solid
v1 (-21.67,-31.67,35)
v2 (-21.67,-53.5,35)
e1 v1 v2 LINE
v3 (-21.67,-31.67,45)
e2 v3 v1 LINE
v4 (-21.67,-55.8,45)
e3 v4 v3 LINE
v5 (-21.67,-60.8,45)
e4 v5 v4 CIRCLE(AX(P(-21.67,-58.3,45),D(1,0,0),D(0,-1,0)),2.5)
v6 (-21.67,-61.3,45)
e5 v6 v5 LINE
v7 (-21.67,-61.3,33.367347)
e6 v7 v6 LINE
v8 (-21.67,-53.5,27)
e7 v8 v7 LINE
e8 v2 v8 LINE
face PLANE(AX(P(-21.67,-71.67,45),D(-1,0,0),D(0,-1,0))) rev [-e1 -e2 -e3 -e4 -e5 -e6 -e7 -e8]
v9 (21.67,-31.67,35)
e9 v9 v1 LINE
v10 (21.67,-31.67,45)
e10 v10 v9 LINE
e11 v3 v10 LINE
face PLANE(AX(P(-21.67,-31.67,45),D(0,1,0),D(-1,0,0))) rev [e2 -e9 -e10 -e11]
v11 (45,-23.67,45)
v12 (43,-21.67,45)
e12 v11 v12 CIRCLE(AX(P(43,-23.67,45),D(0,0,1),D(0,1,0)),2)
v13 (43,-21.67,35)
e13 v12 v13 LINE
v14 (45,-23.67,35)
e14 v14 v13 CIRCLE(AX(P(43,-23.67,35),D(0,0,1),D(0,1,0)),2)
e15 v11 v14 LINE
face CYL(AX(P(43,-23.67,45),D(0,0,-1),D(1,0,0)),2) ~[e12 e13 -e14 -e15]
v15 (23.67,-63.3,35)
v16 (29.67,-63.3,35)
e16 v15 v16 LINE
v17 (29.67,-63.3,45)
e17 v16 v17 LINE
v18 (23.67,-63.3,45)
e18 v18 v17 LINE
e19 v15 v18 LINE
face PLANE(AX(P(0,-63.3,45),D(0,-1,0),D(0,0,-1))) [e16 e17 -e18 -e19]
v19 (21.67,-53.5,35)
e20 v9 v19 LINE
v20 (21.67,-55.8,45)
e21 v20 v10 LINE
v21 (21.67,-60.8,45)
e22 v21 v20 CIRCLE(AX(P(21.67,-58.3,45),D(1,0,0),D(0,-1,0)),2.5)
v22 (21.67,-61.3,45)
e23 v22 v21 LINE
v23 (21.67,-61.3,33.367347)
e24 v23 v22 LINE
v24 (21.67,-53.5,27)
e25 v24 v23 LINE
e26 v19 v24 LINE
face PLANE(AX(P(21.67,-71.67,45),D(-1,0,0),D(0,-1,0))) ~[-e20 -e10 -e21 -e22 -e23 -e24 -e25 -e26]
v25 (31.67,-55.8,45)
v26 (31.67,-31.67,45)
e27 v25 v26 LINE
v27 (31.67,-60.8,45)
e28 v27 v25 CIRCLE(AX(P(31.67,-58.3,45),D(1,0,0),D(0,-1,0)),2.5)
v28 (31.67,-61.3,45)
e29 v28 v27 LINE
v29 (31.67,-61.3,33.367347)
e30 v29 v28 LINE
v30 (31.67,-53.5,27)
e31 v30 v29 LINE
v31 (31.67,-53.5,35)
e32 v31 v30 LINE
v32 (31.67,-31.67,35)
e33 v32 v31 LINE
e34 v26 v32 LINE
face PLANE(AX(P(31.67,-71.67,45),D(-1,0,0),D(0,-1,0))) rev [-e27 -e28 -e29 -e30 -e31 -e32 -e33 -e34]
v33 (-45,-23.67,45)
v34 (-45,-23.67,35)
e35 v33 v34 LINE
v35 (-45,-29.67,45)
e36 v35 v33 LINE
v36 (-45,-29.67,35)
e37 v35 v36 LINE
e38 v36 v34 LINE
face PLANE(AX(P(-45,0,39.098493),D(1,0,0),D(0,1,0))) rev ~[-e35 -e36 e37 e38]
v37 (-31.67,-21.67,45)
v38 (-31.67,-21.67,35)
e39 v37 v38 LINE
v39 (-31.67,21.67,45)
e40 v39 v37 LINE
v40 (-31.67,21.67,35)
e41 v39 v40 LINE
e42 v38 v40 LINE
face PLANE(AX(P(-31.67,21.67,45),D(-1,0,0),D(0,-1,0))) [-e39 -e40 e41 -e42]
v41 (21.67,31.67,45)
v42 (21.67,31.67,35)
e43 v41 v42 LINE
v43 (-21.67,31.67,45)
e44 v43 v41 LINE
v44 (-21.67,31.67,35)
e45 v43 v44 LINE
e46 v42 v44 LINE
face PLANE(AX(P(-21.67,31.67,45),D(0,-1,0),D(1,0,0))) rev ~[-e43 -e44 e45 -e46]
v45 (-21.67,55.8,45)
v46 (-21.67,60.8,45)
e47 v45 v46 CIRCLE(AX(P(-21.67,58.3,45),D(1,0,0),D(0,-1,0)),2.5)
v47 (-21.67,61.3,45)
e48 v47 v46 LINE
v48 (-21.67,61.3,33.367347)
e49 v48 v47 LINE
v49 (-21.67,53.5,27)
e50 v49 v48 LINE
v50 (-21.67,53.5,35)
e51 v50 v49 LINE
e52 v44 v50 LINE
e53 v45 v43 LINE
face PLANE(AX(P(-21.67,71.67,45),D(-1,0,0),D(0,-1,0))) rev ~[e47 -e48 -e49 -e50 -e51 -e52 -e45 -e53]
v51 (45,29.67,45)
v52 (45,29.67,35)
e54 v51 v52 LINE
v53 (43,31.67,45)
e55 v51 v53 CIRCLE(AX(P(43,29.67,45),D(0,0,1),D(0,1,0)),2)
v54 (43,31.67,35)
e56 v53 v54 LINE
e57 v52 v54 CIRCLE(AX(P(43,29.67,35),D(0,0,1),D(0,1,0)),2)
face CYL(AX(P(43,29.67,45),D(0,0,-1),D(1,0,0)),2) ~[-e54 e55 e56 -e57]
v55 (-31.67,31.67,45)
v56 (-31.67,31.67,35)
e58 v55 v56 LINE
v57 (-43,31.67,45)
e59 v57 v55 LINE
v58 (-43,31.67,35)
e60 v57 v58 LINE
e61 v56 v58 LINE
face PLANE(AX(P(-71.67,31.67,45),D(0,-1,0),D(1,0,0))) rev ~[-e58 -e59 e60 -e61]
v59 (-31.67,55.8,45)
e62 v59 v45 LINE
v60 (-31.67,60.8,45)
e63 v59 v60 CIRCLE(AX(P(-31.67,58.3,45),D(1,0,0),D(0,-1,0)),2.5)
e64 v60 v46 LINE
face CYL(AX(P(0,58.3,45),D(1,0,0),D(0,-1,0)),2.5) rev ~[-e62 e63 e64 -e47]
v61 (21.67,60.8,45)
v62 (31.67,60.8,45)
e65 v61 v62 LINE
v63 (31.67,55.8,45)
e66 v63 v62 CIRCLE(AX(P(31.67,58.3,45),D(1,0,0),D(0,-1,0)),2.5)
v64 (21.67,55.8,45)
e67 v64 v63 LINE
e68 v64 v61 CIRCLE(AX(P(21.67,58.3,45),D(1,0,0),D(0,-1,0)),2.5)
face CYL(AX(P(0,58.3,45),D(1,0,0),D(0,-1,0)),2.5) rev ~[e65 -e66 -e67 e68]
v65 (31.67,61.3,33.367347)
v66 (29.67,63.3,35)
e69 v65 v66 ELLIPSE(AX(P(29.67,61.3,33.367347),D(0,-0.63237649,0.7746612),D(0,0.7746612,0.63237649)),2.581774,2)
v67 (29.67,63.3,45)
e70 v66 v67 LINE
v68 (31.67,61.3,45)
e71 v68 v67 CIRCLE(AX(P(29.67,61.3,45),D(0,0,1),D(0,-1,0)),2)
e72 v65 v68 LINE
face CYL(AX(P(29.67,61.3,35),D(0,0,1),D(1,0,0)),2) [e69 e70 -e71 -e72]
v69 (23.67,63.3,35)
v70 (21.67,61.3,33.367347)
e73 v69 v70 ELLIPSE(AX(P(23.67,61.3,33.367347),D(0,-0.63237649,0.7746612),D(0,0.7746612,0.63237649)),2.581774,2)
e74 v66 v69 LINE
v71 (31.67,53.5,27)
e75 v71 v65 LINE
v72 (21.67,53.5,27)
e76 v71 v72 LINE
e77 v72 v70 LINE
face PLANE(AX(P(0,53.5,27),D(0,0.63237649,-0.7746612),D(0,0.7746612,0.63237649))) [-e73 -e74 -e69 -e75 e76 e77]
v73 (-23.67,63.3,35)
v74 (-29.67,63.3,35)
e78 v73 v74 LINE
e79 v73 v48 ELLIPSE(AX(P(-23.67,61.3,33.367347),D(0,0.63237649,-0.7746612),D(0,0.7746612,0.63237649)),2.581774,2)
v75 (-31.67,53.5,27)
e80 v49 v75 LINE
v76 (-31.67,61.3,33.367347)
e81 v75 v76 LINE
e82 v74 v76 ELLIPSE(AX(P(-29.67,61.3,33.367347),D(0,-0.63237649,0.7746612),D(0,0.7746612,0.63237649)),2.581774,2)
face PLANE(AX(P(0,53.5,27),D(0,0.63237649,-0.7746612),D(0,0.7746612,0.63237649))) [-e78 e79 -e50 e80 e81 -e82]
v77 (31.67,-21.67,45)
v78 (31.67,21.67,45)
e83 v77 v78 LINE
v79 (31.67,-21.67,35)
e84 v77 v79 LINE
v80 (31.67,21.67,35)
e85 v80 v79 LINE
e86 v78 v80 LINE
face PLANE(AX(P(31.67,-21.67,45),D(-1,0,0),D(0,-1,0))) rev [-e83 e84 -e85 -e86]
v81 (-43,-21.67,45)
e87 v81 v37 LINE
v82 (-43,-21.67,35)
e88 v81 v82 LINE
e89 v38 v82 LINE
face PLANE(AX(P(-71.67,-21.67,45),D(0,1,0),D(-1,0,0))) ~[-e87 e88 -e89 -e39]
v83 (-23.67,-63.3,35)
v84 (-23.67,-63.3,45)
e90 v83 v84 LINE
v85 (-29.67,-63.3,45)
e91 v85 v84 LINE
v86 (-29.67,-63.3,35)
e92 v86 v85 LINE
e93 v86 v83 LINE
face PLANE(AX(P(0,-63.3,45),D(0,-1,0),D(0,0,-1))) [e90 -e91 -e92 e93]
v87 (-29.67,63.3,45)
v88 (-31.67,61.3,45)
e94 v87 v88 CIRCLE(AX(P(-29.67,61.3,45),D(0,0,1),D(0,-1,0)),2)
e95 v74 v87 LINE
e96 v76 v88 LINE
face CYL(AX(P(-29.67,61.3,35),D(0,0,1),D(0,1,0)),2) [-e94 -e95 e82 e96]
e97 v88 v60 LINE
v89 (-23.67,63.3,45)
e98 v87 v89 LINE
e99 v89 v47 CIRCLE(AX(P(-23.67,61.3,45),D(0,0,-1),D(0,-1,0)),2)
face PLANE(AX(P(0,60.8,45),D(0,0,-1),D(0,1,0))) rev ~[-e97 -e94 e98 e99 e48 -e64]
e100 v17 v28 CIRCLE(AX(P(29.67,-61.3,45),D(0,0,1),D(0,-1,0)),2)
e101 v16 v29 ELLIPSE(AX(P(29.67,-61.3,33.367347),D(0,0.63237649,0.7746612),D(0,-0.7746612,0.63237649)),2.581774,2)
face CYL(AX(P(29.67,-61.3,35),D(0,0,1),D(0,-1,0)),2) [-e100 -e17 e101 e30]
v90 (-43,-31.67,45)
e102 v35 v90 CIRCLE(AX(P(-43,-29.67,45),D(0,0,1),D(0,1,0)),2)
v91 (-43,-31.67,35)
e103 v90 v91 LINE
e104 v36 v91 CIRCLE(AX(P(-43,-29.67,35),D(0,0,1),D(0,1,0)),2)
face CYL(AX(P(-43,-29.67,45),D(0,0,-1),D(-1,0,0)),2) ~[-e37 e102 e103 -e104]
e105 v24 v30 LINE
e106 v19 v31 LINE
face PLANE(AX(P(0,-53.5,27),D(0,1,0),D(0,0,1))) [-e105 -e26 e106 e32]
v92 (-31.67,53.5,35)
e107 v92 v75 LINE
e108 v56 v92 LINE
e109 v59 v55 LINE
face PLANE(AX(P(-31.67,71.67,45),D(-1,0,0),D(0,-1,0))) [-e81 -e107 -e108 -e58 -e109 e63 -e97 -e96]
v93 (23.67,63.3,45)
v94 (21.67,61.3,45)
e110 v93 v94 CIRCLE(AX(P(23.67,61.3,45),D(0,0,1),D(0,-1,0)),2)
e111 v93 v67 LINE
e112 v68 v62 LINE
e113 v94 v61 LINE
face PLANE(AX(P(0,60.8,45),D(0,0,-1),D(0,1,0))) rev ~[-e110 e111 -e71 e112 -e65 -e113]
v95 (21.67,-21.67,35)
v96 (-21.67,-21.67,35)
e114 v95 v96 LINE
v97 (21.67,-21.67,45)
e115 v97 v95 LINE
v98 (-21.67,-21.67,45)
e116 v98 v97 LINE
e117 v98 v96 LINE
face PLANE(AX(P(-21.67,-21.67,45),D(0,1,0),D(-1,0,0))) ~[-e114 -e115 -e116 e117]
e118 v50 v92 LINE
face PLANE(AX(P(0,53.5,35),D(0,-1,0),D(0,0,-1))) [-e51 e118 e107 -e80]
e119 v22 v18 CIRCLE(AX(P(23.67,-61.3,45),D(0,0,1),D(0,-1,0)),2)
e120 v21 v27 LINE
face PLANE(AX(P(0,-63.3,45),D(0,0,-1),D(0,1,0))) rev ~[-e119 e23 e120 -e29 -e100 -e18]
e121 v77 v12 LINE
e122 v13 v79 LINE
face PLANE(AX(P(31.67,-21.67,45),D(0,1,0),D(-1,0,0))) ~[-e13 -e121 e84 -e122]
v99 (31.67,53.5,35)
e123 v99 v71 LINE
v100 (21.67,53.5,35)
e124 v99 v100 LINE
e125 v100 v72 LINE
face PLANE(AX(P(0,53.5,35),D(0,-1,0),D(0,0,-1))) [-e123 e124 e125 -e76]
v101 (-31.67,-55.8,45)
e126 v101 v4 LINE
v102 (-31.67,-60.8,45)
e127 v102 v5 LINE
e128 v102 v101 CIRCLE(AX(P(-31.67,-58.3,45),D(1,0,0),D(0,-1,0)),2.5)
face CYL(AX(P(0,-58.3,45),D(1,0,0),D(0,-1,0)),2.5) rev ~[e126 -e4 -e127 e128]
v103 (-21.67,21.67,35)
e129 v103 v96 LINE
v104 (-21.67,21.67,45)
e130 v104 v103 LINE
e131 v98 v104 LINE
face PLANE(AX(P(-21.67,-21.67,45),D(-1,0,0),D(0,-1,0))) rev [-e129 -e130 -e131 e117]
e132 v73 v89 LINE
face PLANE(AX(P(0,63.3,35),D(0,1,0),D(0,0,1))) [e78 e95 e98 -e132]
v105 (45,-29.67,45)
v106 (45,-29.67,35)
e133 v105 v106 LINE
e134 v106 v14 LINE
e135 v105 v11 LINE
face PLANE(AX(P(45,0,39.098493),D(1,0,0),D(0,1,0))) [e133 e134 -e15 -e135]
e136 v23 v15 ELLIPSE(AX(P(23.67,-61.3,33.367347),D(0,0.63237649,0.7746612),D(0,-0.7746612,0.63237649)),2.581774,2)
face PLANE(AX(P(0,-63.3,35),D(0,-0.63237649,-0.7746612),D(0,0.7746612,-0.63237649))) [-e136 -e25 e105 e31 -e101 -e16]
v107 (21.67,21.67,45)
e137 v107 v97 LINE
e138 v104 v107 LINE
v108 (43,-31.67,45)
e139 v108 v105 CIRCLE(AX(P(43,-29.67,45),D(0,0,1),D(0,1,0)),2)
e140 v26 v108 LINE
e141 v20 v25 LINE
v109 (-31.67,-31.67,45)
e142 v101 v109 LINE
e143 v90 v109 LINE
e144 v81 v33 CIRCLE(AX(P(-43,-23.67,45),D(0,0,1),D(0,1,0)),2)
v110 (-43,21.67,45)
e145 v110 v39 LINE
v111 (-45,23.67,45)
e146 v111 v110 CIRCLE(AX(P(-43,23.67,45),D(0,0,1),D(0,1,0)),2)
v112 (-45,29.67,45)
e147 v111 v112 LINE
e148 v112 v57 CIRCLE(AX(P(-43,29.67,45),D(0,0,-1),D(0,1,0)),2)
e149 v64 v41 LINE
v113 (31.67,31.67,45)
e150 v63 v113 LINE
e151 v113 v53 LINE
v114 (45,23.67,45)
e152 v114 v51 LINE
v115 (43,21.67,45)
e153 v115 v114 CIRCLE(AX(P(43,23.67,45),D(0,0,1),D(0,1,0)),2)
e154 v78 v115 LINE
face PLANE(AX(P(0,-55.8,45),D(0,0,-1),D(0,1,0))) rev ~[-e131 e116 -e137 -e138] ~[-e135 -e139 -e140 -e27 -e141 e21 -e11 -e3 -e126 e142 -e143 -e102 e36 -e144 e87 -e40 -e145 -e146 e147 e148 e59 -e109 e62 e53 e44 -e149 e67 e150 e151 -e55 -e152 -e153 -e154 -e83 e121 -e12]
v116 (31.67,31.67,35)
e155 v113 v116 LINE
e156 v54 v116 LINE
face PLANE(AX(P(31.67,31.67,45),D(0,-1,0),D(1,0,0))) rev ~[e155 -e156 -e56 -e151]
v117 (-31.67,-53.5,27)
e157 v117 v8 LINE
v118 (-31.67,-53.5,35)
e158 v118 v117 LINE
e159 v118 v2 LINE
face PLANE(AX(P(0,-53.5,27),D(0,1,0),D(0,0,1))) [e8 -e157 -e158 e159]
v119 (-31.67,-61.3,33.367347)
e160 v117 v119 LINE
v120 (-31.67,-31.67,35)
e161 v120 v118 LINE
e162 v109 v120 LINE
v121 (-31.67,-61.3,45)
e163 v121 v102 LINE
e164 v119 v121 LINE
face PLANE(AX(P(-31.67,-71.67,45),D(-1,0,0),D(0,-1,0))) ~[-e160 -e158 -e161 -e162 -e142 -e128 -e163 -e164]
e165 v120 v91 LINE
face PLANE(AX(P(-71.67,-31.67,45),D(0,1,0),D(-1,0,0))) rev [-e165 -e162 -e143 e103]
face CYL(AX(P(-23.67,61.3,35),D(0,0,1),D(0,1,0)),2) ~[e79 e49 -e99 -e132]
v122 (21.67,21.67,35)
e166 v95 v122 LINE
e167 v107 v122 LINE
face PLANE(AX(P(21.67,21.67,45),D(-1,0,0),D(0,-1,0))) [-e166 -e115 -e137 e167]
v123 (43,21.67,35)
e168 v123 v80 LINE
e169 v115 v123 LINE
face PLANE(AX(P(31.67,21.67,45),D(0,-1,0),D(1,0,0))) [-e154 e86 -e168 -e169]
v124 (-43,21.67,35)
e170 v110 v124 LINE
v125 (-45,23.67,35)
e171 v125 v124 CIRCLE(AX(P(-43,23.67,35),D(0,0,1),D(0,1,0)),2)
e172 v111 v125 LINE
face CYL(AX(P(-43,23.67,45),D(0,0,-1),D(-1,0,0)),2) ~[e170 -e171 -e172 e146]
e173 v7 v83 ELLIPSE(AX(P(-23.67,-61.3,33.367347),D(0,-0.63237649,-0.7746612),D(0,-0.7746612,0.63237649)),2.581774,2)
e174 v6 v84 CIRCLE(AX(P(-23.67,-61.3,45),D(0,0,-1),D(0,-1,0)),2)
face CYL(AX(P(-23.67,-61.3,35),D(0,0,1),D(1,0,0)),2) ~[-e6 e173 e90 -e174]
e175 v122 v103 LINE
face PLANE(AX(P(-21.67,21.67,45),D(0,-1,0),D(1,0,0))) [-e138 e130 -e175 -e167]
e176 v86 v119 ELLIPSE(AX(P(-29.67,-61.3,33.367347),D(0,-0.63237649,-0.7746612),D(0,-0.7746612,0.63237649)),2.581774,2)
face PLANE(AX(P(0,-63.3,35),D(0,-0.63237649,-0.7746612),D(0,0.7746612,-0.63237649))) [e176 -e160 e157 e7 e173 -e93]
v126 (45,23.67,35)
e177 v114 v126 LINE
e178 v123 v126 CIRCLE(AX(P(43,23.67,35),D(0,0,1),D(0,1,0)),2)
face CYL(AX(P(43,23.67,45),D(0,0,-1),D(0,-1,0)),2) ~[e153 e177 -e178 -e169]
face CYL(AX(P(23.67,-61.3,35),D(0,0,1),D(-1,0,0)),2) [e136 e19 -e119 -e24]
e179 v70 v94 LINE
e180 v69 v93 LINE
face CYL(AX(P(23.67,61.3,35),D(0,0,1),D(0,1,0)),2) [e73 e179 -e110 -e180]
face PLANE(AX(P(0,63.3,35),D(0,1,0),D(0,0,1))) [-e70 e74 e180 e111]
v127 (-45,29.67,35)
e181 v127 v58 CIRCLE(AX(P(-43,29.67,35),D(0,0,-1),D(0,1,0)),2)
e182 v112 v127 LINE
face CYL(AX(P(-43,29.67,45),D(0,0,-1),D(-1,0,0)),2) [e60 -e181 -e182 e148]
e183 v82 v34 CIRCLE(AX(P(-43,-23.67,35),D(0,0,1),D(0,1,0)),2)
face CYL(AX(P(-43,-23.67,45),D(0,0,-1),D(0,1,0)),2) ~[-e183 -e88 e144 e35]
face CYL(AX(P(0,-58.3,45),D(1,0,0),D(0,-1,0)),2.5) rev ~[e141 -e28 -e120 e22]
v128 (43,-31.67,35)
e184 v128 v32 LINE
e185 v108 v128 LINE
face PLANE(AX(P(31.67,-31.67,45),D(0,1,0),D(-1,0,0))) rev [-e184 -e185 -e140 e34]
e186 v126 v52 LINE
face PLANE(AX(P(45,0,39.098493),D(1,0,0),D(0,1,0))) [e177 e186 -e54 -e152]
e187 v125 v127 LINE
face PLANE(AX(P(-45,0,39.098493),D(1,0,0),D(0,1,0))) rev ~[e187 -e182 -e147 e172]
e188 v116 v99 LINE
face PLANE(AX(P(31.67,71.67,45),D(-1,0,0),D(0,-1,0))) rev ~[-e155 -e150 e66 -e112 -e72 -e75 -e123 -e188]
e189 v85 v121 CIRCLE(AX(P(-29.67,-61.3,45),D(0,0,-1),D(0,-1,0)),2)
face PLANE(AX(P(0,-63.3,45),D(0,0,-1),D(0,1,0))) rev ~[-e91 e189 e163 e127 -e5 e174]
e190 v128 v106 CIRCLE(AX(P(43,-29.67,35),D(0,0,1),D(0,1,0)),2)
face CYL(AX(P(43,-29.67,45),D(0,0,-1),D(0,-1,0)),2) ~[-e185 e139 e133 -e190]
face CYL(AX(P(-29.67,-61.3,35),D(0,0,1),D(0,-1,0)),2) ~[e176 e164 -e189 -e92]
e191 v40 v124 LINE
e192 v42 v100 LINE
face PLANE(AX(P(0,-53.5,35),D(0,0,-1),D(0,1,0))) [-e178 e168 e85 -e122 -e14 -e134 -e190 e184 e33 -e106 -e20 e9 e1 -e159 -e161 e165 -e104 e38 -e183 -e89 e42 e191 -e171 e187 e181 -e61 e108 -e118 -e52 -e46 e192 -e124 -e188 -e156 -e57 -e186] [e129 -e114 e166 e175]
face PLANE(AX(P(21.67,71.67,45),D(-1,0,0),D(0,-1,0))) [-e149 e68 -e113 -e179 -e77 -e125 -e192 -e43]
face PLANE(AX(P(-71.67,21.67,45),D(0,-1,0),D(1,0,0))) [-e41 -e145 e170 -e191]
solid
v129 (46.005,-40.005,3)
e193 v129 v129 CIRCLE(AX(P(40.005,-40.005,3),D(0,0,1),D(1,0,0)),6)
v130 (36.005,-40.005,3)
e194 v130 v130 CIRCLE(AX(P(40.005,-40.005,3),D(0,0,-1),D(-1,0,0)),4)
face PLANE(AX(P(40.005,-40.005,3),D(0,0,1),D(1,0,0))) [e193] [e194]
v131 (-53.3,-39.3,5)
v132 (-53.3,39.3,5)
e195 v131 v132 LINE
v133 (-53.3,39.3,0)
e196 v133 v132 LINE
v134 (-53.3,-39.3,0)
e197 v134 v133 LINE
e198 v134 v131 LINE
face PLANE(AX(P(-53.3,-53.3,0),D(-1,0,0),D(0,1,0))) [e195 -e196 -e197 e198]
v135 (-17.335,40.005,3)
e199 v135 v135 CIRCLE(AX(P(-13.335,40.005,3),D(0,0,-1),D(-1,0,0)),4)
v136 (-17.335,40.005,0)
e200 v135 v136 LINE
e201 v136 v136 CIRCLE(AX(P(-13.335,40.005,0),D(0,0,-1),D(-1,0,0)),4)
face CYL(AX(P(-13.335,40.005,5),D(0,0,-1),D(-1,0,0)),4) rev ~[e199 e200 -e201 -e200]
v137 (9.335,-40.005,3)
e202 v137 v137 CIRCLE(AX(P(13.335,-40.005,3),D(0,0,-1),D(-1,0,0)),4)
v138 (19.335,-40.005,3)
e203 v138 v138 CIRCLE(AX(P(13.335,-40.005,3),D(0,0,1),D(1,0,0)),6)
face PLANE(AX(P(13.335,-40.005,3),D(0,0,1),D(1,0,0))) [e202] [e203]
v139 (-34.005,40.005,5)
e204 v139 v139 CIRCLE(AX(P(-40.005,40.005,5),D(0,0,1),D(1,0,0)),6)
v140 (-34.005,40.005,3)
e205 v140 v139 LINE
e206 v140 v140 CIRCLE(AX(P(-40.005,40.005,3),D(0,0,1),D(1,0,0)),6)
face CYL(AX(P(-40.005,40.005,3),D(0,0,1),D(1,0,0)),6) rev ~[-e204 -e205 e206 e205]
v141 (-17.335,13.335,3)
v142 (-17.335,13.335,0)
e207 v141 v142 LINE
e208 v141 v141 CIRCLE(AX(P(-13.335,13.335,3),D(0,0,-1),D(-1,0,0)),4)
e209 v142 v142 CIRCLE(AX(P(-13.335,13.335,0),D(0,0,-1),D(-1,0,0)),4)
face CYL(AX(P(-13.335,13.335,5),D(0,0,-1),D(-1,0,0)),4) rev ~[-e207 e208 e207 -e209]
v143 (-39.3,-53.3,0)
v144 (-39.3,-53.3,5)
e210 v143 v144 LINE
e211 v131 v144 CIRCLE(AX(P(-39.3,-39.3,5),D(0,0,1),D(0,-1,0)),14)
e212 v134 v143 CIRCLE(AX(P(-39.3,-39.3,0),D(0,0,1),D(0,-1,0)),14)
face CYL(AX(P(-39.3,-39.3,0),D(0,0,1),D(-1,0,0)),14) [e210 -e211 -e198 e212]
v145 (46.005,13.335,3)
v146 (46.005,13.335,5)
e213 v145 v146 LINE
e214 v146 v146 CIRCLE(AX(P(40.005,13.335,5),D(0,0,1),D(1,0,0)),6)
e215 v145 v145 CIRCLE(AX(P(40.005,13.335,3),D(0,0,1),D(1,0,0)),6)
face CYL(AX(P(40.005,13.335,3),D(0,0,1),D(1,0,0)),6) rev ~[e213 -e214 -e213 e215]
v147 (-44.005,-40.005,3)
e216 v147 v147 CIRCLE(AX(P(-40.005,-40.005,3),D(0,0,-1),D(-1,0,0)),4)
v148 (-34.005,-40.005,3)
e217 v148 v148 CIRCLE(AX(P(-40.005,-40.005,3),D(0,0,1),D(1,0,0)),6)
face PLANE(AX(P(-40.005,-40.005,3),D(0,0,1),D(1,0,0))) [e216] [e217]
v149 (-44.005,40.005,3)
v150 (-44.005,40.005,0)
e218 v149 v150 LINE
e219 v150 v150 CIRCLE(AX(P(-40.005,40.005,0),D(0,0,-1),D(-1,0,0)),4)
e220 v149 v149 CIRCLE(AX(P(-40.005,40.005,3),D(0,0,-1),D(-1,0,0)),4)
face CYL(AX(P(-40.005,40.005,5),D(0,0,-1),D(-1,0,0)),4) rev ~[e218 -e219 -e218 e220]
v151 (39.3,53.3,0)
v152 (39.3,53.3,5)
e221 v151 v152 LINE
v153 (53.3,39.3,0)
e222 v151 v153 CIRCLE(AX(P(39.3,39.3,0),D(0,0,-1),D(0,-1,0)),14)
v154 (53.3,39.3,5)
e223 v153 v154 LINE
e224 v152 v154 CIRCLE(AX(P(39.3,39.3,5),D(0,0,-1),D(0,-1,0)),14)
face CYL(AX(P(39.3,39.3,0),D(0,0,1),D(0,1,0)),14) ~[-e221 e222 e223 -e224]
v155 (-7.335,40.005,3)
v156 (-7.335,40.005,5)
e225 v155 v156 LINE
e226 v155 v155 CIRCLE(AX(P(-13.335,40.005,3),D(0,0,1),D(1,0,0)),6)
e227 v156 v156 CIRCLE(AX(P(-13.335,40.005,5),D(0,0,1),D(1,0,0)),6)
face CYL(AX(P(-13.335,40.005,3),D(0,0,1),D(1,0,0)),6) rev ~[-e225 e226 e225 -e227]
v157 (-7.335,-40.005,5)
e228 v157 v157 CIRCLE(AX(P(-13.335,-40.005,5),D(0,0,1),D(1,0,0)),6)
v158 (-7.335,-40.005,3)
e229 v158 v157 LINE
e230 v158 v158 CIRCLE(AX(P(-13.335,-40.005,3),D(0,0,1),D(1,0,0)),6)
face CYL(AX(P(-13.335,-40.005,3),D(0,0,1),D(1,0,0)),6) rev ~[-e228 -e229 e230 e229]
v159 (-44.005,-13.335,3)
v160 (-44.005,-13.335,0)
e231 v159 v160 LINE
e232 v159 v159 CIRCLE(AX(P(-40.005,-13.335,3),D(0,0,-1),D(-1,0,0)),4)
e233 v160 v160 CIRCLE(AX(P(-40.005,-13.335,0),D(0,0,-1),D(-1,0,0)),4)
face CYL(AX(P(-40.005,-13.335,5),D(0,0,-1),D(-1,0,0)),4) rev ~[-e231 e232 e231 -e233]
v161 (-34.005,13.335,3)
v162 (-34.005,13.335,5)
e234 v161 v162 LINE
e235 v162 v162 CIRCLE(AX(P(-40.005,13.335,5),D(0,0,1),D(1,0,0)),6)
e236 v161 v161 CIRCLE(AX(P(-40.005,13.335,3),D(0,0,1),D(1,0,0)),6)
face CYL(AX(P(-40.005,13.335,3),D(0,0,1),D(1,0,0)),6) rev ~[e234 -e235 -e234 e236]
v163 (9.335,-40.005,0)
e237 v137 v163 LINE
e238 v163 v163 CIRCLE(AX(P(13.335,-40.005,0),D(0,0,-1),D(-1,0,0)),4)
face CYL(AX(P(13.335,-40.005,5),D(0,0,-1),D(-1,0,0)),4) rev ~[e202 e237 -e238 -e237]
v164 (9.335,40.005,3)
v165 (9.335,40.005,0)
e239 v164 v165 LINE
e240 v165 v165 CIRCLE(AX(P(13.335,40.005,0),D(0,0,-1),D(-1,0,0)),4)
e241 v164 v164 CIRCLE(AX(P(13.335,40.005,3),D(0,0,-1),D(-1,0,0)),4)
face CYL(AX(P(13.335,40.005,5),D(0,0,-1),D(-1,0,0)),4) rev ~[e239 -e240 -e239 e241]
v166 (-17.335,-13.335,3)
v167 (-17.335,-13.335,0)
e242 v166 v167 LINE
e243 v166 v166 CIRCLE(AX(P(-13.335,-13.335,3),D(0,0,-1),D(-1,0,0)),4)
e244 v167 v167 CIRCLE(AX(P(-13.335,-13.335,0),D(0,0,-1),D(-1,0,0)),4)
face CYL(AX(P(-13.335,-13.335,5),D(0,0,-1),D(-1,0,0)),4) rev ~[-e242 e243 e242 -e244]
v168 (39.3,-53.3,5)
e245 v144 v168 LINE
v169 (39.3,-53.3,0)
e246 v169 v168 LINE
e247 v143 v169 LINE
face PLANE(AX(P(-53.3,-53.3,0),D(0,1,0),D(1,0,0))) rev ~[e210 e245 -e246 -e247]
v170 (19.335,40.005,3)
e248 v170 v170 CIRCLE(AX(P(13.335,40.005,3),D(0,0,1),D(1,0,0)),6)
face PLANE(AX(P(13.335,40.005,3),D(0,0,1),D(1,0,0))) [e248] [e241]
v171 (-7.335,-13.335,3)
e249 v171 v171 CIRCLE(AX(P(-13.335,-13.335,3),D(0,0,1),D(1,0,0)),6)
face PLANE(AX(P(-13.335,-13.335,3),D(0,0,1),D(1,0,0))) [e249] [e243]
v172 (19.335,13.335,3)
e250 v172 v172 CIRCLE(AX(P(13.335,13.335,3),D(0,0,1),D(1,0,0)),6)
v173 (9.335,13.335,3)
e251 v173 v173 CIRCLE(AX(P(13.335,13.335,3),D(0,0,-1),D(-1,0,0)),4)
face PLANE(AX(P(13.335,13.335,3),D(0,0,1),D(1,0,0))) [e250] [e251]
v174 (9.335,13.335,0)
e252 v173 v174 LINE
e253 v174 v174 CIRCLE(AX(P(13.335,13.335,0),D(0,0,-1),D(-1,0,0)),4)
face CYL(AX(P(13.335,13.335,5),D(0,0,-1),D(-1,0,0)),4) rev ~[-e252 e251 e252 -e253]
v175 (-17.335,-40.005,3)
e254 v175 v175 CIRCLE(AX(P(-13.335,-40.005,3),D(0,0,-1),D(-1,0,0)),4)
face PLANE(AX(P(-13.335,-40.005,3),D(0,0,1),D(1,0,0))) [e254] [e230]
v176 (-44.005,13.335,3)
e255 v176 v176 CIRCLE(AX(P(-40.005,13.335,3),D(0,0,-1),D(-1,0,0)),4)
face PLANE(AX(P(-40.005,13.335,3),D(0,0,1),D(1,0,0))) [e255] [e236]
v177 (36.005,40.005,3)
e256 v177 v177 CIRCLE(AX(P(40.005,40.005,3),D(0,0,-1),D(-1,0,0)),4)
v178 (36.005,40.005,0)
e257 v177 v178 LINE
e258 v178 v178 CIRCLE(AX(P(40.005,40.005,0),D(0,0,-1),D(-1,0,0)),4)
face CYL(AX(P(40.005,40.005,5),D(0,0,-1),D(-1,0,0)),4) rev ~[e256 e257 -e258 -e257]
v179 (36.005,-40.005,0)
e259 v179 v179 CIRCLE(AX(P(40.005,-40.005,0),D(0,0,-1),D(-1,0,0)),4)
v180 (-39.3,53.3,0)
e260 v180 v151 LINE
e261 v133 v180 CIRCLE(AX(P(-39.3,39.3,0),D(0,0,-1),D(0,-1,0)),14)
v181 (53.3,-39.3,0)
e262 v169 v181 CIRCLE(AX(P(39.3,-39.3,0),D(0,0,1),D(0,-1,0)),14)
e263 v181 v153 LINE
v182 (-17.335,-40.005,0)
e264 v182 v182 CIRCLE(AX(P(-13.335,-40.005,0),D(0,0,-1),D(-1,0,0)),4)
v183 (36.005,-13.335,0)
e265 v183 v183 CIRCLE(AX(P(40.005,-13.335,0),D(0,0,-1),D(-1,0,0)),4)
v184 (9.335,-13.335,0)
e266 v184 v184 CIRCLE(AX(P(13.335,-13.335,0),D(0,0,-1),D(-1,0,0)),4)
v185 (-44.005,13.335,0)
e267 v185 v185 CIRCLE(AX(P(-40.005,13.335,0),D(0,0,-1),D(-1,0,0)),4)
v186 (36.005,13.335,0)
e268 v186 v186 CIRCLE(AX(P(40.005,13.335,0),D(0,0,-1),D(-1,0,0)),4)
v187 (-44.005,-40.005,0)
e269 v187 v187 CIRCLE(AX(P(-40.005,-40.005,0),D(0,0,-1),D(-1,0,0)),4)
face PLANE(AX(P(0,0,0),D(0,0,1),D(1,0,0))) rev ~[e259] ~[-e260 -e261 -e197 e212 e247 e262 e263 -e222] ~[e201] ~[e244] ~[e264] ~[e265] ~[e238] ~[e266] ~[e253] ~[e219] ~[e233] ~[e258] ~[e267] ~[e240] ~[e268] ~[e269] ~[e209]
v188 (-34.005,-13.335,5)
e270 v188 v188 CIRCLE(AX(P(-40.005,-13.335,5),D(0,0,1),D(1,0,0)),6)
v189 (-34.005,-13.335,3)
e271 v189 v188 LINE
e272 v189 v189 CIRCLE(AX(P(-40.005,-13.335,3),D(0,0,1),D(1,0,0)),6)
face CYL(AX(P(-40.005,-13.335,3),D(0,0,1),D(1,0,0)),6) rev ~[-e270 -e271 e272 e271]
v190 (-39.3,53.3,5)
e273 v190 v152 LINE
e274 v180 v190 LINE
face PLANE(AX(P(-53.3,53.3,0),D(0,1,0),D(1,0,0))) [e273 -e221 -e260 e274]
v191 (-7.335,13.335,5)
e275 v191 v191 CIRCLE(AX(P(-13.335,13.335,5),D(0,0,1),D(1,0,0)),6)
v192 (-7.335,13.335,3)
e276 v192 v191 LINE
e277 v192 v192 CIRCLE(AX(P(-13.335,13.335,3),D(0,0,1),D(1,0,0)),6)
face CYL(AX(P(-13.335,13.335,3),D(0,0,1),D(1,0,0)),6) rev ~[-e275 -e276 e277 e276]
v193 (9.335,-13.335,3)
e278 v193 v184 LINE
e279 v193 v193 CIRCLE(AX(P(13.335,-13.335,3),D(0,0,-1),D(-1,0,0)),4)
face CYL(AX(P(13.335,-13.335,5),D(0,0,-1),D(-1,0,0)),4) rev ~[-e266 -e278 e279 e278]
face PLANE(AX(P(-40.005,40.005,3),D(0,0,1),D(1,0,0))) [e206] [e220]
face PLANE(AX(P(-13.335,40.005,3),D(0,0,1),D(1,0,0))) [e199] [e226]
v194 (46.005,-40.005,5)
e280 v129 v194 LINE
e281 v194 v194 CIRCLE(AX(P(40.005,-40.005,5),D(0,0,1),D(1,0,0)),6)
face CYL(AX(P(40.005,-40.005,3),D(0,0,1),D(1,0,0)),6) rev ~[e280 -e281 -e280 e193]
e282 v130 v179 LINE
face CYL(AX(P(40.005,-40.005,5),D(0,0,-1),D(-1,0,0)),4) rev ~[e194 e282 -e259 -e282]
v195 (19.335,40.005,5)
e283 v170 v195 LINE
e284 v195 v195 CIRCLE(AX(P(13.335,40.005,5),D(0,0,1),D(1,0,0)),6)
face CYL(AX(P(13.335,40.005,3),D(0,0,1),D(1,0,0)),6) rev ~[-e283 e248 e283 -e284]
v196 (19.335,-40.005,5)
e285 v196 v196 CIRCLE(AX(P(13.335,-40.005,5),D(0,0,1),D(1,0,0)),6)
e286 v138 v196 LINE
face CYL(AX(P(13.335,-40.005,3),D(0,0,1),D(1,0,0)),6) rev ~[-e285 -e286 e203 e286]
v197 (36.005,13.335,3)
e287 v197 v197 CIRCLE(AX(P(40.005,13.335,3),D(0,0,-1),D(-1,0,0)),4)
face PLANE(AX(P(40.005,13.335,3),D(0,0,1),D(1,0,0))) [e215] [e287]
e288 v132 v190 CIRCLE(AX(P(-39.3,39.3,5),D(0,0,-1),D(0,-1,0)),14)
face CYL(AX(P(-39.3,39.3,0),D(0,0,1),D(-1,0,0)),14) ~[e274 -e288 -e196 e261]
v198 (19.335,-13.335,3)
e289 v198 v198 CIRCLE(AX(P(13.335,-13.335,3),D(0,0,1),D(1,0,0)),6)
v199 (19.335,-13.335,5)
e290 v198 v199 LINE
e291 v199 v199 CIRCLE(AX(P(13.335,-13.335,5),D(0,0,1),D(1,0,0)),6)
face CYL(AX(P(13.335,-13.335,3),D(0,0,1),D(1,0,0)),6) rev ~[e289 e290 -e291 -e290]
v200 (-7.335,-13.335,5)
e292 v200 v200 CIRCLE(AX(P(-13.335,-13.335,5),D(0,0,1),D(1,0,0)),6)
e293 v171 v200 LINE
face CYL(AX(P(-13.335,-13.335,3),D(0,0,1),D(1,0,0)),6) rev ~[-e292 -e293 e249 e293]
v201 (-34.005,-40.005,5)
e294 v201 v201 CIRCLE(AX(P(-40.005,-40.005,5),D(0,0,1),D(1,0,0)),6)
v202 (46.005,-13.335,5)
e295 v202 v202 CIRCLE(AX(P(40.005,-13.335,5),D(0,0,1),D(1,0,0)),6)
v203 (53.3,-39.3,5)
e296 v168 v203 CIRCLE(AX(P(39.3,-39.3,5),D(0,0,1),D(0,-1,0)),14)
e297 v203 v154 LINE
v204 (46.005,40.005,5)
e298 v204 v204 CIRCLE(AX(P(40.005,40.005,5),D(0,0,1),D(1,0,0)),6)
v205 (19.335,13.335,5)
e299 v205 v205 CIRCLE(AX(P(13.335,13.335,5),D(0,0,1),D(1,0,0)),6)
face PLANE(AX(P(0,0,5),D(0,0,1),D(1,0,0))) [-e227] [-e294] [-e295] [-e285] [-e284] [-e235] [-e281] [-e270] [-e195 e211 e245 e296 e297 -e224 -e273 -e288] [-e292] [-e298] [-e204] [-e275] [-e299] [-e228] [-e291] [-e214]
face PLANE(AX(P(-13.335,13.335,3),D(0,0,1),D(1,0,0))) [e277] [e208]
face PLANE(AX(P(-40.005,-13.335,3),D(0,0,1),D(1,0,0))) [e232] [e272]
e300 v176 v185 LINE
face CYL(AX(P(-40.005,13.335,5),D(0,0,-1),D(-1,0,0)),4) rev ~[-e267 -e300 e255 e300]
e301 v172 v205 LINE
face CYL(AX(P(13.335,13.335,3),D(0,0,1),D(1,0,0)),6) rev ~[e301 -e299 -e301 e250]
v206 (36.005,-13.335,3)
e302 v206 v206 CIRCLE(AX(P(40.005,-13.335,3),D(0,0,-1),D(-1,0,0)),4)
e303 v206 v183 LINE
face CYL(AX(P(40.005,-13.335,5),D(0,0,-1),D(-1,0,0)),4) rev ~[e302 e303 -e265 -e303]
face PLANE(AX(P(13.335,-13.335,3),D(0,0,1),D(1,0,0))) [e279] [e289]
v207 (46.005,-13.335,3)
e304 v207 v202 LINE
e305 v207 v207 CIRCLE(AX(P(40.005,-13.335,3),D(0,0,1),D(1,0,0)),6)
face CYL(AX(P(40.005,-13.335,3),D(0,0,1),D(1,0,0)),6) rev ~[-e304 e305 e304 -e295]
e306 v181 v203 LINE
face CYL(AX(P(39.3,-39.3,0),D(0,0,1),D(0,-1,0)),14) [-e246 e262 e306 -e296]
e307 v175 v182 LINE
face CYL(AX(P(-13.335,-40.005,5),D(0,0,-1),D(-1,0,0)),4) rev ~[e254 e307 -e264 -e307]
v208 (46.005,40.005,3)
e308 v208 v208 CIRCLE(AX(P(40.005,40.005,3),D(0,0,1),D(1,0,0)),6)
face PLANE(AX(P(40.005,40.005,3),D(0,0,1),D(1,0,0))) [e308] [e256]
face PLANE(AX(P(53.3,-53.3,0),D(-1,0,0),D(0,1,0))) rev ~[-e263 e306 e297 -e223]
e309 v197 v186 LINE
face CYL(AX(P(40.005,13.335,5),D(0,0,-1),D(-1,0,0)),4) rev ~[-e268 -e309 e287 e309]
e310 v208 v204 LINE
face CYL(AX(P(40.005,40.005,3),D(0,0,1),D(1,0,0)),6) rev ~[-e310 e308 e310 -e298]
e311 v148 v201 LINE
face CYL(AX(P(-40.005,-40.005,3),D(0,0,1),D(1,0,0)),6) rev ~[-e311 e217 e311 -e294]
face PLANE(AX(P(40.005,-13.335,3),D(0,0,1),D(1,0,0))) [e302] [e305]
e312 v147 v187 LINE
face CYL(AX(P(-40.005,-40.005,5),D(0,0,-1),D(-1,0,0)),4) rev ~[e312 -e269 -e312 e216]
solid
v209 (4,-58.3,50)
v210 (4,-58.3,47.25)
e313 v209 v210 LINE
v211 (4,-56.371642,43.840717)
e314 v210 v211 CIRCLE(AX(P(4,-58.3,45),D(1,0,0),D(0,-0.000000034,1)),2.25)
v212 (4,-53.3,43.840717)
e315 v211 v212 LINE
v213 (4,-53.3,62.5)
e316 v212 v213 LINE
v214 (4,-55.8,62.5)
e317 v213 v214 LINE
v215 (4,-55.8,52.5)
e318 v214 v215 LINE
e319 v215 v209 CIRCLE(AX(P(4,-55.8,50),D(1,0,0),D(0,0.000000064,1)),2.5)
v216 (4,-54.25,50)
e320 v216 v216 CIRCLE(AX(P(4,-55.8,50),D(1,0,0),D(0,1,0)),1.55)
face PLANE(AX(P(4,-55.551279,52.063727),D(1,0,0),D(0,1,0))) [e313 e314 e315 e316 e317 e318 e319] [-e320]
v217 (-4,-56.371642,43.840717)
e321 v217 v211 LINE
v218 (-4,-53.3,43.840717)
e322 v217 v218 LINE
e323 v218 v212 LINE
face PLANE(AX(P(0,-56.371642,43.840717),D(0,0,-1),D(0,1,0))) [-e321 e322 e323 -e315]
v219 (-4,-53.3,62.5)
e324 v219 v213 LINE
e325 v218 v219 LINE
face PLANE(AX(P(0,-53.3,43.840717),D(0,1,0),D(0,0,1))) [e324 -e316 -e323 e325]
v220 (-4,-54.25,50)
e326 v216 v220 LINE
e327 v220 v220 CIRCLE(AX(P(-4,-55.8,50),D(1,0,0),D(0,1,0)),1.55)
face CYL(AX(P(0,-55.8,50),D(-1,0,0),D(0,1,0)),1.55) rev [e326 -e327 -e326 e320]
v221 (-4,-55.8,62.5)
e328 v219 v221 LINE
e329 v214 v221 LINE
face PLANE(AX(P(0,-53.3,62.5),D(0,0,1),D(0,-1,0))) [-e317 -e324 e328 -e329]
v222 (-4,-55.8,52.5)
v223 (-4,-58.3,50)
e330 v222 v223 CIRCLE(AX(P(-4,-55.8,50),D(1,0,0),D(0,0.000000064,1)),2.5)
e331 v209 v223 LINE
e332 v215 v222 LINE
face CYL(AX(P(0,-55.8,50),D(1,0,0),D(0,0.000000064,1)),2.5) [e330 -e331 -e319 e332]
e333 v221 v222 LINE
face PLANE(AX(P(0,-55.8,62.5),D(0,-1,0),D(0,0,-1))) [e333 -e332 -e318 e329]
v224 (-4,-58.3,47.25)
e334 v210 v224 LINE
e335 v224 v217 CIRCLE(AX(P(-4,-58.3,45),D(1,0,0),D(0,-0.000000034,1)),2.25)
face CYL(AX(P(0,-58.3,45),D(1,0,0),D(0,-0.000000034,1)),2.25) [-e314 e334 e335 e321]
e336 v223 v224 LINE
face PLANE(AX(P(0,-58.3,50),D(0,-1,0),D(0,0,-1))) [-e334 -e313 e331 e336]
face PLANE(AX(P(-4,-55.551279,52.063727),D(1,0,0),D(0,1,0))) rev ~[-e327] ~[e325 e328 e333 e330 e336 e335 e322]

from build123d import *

# Parameters (mm, degrees)
SKETCH_W         = 106.6
SKETCH_H         = 106.6
PAD_DEPTH        = 5
HOLE_D           = 8
HOLE_CBORE_D     = 12
HOLE_CBORE_DEPTH = 2
FILLET001_R      = 14
PAD001_DEPTH     = 45
SKETCH004_W      = 40
SKETCH004_H      = 40
SKETCH004_W_2    = 21.67
SKETCH004_H_2    = 43.34
POCKET_DEPTH     = 330.740892
FILLET_R         = 2
SKETCH003_R      = 1.55
PAD002_DEPTH     = 4


with BuildPart() as body:
    # Sketch → Pad (new body)
    with BuildSketch(Plane.XY):
        Rectangle(SKETCH_W, SKETCH_H)
    extrude(amount=PAD_DEPTH)

    # Hole (through all)
    with Locations(Plane.XY.offset(5)):
        with Locations((-40.005, 40.005), (-13.335, 40.005), (13.335, 40.005), (40.005, 40.005), (-40.005, 13.335), (-13.335, 13.335), (13.335, 13.335), (40.005, 13.335), (-40.005, -13.335), (-13.335, -13.335), (13.335, -13.335), (40.005, -13.335), (-40.005, -40.005), (-13.335, -40.005), (13.335, -40.005), (40.005, -40.005)):
            CounterBoreHole(HOLE_D / 2, HOLE_CBORE_D / 2, HOLE_CBORE_DEPTH)

    # Fillet001
    fillet001_edges = [body.edges().sort_by_distance(p)[0] for p in [
        (-53.3, -53.3, 2.5),
        (53.3, -53.3, 2.5),
        (53.3, 53.3, 2.5),
        (-53.3, 53.3, 2.5),
    ]]
    fillet(fillet001_edges, radius=FILLET001_R)


with BuildPart() as body001:
    # Sketch002 → Pad001 (new body, symmetric)
    with BuildSketch(Plane.YZ):
        with BuildLine():
            Line((63.3, 35), (63.3, 45))
            Line((60.8, 45), (63.3, 45))
            ThreePointArc((55.8, 45), (58.3, 42.5), (60.8, 45))
            Line((-55.8, 45), (55.8, 45))
            ThreePointArc((-60.8, 45), (-58.3, 42.5), (-55.8, 45))
            Line((-63.3, 45), (-60.8, 45))
            Line((-63.3, 45), (-63.3, 35))
            Line((-63.3, 35), (-53.5, 27))
            Line((-53.5, 27), (-53.5, 35))
            Line((-53.5, 35), (53.5, 35))
            Line((53.5, 35), (53.5, 27))
            Line((53.5, 27), (63.3, 35))
        make_face()
    extrude(amount=PAD001_DEPTH, both=True)

    # Sketch004 (on Face10 of Pad001) → Pocket (cut, through all)
    with BuildSketch(Plane(origin=(0, 0, 45), x_dir=(0, -1, 0), z_dir=(0, 0, 1))):
        with Locations((-51.67, 51.67)):
            Rectangle(SKETCH004_W, SKETCH004_H)
        with Locations((-10.835, 51.67)):
            Rectangle(SKETCH004_W_2, SKETCH004_H)
        with Locations((-51.67, 0)):
            Rectangle(SKETCH004_W, SKETCH004_H_2)
        with Locations((-51.67, -51.67)):
            Rectangle(SKETCH004_W, SKETCH004_H)
        with Locations((-10.835, 0)):
            Rectangle(SKETCH004_W_2, SKETCH004_H_2)
        with Locations((-10.835, -51.67)):
            Rectangle(SKETCH004_W_2, SKETCH004_H)
    pocket = extrude(amount=-POCKET_DEPTH, mode=Mode.SUBTRACT)

    # Mirrored: Pocket across Sketch004 V_Axis
    add(pocket.mirror(Plane(origin=(0, 0, 45), x_dir=(0, 0, 1), z_dir=(0, -1, 0))), mode=Mode.SUBTRACT)

    # Fillet
    fillet_edges = [body001.edges().sort_by_distance(p)[0] for p in [
        (-21.67, -63.3, 40),
        (-31.67, -63.3, 40),
        (21.67, -63.3, 40),
        (31.67, -63.3, 40),
        (31.67, 63.3, 40),
        (-21.67, 63.3, 40),
        (-31.67, 63.3, 40),
        (21.67, 63.3, 40),
        (45, 31.67, 40),
        (45, -21.67, 40),
        (-45, -21.67, 40),
        (-45, 31.67, 40),
        (-45, 21.67, 40),
        (-45, -31.67, 40),
        (45, -31.67, 40),
        (45, 21.67, 40),
    ]]
    fillet(fillet_edges, radius=FILLET_R)


with BuildPart() as body002:
    # Sketch003 → Pad002 (new body, symmetric)
    with BuildSketch(Plane.YZ):
        with BuildLine():
            ThreePointArc((-58.3, 47.25), (-60.258429, 43.892274), (-56.371642, 43.840717))
            Line((-56.371642, 43.840717), (-53.3, 43.840717))
            Line((-53.3, 43.840717), (-53.3, 62.5))
            Line((-53.3, 62.5), (-55.8, 62.5))
            Line((-55.8, 62.5), (-55.8, 52.5))
            ThreePointArc((-55.8, 52.5), (-57.567767, 51.767767), (-58.3, 50))
            Line((-58.3, 50), (-58.3, 47.25))
        make_face()
        with Locations((-55.8, 50)):
            Circle(SKETCH003_R, mode=Mode.SUBTRACT)
    extrude(amount=PAD002_DEPTH, both=True)


solid = Compound([body.part, body001.part, body002.part])
